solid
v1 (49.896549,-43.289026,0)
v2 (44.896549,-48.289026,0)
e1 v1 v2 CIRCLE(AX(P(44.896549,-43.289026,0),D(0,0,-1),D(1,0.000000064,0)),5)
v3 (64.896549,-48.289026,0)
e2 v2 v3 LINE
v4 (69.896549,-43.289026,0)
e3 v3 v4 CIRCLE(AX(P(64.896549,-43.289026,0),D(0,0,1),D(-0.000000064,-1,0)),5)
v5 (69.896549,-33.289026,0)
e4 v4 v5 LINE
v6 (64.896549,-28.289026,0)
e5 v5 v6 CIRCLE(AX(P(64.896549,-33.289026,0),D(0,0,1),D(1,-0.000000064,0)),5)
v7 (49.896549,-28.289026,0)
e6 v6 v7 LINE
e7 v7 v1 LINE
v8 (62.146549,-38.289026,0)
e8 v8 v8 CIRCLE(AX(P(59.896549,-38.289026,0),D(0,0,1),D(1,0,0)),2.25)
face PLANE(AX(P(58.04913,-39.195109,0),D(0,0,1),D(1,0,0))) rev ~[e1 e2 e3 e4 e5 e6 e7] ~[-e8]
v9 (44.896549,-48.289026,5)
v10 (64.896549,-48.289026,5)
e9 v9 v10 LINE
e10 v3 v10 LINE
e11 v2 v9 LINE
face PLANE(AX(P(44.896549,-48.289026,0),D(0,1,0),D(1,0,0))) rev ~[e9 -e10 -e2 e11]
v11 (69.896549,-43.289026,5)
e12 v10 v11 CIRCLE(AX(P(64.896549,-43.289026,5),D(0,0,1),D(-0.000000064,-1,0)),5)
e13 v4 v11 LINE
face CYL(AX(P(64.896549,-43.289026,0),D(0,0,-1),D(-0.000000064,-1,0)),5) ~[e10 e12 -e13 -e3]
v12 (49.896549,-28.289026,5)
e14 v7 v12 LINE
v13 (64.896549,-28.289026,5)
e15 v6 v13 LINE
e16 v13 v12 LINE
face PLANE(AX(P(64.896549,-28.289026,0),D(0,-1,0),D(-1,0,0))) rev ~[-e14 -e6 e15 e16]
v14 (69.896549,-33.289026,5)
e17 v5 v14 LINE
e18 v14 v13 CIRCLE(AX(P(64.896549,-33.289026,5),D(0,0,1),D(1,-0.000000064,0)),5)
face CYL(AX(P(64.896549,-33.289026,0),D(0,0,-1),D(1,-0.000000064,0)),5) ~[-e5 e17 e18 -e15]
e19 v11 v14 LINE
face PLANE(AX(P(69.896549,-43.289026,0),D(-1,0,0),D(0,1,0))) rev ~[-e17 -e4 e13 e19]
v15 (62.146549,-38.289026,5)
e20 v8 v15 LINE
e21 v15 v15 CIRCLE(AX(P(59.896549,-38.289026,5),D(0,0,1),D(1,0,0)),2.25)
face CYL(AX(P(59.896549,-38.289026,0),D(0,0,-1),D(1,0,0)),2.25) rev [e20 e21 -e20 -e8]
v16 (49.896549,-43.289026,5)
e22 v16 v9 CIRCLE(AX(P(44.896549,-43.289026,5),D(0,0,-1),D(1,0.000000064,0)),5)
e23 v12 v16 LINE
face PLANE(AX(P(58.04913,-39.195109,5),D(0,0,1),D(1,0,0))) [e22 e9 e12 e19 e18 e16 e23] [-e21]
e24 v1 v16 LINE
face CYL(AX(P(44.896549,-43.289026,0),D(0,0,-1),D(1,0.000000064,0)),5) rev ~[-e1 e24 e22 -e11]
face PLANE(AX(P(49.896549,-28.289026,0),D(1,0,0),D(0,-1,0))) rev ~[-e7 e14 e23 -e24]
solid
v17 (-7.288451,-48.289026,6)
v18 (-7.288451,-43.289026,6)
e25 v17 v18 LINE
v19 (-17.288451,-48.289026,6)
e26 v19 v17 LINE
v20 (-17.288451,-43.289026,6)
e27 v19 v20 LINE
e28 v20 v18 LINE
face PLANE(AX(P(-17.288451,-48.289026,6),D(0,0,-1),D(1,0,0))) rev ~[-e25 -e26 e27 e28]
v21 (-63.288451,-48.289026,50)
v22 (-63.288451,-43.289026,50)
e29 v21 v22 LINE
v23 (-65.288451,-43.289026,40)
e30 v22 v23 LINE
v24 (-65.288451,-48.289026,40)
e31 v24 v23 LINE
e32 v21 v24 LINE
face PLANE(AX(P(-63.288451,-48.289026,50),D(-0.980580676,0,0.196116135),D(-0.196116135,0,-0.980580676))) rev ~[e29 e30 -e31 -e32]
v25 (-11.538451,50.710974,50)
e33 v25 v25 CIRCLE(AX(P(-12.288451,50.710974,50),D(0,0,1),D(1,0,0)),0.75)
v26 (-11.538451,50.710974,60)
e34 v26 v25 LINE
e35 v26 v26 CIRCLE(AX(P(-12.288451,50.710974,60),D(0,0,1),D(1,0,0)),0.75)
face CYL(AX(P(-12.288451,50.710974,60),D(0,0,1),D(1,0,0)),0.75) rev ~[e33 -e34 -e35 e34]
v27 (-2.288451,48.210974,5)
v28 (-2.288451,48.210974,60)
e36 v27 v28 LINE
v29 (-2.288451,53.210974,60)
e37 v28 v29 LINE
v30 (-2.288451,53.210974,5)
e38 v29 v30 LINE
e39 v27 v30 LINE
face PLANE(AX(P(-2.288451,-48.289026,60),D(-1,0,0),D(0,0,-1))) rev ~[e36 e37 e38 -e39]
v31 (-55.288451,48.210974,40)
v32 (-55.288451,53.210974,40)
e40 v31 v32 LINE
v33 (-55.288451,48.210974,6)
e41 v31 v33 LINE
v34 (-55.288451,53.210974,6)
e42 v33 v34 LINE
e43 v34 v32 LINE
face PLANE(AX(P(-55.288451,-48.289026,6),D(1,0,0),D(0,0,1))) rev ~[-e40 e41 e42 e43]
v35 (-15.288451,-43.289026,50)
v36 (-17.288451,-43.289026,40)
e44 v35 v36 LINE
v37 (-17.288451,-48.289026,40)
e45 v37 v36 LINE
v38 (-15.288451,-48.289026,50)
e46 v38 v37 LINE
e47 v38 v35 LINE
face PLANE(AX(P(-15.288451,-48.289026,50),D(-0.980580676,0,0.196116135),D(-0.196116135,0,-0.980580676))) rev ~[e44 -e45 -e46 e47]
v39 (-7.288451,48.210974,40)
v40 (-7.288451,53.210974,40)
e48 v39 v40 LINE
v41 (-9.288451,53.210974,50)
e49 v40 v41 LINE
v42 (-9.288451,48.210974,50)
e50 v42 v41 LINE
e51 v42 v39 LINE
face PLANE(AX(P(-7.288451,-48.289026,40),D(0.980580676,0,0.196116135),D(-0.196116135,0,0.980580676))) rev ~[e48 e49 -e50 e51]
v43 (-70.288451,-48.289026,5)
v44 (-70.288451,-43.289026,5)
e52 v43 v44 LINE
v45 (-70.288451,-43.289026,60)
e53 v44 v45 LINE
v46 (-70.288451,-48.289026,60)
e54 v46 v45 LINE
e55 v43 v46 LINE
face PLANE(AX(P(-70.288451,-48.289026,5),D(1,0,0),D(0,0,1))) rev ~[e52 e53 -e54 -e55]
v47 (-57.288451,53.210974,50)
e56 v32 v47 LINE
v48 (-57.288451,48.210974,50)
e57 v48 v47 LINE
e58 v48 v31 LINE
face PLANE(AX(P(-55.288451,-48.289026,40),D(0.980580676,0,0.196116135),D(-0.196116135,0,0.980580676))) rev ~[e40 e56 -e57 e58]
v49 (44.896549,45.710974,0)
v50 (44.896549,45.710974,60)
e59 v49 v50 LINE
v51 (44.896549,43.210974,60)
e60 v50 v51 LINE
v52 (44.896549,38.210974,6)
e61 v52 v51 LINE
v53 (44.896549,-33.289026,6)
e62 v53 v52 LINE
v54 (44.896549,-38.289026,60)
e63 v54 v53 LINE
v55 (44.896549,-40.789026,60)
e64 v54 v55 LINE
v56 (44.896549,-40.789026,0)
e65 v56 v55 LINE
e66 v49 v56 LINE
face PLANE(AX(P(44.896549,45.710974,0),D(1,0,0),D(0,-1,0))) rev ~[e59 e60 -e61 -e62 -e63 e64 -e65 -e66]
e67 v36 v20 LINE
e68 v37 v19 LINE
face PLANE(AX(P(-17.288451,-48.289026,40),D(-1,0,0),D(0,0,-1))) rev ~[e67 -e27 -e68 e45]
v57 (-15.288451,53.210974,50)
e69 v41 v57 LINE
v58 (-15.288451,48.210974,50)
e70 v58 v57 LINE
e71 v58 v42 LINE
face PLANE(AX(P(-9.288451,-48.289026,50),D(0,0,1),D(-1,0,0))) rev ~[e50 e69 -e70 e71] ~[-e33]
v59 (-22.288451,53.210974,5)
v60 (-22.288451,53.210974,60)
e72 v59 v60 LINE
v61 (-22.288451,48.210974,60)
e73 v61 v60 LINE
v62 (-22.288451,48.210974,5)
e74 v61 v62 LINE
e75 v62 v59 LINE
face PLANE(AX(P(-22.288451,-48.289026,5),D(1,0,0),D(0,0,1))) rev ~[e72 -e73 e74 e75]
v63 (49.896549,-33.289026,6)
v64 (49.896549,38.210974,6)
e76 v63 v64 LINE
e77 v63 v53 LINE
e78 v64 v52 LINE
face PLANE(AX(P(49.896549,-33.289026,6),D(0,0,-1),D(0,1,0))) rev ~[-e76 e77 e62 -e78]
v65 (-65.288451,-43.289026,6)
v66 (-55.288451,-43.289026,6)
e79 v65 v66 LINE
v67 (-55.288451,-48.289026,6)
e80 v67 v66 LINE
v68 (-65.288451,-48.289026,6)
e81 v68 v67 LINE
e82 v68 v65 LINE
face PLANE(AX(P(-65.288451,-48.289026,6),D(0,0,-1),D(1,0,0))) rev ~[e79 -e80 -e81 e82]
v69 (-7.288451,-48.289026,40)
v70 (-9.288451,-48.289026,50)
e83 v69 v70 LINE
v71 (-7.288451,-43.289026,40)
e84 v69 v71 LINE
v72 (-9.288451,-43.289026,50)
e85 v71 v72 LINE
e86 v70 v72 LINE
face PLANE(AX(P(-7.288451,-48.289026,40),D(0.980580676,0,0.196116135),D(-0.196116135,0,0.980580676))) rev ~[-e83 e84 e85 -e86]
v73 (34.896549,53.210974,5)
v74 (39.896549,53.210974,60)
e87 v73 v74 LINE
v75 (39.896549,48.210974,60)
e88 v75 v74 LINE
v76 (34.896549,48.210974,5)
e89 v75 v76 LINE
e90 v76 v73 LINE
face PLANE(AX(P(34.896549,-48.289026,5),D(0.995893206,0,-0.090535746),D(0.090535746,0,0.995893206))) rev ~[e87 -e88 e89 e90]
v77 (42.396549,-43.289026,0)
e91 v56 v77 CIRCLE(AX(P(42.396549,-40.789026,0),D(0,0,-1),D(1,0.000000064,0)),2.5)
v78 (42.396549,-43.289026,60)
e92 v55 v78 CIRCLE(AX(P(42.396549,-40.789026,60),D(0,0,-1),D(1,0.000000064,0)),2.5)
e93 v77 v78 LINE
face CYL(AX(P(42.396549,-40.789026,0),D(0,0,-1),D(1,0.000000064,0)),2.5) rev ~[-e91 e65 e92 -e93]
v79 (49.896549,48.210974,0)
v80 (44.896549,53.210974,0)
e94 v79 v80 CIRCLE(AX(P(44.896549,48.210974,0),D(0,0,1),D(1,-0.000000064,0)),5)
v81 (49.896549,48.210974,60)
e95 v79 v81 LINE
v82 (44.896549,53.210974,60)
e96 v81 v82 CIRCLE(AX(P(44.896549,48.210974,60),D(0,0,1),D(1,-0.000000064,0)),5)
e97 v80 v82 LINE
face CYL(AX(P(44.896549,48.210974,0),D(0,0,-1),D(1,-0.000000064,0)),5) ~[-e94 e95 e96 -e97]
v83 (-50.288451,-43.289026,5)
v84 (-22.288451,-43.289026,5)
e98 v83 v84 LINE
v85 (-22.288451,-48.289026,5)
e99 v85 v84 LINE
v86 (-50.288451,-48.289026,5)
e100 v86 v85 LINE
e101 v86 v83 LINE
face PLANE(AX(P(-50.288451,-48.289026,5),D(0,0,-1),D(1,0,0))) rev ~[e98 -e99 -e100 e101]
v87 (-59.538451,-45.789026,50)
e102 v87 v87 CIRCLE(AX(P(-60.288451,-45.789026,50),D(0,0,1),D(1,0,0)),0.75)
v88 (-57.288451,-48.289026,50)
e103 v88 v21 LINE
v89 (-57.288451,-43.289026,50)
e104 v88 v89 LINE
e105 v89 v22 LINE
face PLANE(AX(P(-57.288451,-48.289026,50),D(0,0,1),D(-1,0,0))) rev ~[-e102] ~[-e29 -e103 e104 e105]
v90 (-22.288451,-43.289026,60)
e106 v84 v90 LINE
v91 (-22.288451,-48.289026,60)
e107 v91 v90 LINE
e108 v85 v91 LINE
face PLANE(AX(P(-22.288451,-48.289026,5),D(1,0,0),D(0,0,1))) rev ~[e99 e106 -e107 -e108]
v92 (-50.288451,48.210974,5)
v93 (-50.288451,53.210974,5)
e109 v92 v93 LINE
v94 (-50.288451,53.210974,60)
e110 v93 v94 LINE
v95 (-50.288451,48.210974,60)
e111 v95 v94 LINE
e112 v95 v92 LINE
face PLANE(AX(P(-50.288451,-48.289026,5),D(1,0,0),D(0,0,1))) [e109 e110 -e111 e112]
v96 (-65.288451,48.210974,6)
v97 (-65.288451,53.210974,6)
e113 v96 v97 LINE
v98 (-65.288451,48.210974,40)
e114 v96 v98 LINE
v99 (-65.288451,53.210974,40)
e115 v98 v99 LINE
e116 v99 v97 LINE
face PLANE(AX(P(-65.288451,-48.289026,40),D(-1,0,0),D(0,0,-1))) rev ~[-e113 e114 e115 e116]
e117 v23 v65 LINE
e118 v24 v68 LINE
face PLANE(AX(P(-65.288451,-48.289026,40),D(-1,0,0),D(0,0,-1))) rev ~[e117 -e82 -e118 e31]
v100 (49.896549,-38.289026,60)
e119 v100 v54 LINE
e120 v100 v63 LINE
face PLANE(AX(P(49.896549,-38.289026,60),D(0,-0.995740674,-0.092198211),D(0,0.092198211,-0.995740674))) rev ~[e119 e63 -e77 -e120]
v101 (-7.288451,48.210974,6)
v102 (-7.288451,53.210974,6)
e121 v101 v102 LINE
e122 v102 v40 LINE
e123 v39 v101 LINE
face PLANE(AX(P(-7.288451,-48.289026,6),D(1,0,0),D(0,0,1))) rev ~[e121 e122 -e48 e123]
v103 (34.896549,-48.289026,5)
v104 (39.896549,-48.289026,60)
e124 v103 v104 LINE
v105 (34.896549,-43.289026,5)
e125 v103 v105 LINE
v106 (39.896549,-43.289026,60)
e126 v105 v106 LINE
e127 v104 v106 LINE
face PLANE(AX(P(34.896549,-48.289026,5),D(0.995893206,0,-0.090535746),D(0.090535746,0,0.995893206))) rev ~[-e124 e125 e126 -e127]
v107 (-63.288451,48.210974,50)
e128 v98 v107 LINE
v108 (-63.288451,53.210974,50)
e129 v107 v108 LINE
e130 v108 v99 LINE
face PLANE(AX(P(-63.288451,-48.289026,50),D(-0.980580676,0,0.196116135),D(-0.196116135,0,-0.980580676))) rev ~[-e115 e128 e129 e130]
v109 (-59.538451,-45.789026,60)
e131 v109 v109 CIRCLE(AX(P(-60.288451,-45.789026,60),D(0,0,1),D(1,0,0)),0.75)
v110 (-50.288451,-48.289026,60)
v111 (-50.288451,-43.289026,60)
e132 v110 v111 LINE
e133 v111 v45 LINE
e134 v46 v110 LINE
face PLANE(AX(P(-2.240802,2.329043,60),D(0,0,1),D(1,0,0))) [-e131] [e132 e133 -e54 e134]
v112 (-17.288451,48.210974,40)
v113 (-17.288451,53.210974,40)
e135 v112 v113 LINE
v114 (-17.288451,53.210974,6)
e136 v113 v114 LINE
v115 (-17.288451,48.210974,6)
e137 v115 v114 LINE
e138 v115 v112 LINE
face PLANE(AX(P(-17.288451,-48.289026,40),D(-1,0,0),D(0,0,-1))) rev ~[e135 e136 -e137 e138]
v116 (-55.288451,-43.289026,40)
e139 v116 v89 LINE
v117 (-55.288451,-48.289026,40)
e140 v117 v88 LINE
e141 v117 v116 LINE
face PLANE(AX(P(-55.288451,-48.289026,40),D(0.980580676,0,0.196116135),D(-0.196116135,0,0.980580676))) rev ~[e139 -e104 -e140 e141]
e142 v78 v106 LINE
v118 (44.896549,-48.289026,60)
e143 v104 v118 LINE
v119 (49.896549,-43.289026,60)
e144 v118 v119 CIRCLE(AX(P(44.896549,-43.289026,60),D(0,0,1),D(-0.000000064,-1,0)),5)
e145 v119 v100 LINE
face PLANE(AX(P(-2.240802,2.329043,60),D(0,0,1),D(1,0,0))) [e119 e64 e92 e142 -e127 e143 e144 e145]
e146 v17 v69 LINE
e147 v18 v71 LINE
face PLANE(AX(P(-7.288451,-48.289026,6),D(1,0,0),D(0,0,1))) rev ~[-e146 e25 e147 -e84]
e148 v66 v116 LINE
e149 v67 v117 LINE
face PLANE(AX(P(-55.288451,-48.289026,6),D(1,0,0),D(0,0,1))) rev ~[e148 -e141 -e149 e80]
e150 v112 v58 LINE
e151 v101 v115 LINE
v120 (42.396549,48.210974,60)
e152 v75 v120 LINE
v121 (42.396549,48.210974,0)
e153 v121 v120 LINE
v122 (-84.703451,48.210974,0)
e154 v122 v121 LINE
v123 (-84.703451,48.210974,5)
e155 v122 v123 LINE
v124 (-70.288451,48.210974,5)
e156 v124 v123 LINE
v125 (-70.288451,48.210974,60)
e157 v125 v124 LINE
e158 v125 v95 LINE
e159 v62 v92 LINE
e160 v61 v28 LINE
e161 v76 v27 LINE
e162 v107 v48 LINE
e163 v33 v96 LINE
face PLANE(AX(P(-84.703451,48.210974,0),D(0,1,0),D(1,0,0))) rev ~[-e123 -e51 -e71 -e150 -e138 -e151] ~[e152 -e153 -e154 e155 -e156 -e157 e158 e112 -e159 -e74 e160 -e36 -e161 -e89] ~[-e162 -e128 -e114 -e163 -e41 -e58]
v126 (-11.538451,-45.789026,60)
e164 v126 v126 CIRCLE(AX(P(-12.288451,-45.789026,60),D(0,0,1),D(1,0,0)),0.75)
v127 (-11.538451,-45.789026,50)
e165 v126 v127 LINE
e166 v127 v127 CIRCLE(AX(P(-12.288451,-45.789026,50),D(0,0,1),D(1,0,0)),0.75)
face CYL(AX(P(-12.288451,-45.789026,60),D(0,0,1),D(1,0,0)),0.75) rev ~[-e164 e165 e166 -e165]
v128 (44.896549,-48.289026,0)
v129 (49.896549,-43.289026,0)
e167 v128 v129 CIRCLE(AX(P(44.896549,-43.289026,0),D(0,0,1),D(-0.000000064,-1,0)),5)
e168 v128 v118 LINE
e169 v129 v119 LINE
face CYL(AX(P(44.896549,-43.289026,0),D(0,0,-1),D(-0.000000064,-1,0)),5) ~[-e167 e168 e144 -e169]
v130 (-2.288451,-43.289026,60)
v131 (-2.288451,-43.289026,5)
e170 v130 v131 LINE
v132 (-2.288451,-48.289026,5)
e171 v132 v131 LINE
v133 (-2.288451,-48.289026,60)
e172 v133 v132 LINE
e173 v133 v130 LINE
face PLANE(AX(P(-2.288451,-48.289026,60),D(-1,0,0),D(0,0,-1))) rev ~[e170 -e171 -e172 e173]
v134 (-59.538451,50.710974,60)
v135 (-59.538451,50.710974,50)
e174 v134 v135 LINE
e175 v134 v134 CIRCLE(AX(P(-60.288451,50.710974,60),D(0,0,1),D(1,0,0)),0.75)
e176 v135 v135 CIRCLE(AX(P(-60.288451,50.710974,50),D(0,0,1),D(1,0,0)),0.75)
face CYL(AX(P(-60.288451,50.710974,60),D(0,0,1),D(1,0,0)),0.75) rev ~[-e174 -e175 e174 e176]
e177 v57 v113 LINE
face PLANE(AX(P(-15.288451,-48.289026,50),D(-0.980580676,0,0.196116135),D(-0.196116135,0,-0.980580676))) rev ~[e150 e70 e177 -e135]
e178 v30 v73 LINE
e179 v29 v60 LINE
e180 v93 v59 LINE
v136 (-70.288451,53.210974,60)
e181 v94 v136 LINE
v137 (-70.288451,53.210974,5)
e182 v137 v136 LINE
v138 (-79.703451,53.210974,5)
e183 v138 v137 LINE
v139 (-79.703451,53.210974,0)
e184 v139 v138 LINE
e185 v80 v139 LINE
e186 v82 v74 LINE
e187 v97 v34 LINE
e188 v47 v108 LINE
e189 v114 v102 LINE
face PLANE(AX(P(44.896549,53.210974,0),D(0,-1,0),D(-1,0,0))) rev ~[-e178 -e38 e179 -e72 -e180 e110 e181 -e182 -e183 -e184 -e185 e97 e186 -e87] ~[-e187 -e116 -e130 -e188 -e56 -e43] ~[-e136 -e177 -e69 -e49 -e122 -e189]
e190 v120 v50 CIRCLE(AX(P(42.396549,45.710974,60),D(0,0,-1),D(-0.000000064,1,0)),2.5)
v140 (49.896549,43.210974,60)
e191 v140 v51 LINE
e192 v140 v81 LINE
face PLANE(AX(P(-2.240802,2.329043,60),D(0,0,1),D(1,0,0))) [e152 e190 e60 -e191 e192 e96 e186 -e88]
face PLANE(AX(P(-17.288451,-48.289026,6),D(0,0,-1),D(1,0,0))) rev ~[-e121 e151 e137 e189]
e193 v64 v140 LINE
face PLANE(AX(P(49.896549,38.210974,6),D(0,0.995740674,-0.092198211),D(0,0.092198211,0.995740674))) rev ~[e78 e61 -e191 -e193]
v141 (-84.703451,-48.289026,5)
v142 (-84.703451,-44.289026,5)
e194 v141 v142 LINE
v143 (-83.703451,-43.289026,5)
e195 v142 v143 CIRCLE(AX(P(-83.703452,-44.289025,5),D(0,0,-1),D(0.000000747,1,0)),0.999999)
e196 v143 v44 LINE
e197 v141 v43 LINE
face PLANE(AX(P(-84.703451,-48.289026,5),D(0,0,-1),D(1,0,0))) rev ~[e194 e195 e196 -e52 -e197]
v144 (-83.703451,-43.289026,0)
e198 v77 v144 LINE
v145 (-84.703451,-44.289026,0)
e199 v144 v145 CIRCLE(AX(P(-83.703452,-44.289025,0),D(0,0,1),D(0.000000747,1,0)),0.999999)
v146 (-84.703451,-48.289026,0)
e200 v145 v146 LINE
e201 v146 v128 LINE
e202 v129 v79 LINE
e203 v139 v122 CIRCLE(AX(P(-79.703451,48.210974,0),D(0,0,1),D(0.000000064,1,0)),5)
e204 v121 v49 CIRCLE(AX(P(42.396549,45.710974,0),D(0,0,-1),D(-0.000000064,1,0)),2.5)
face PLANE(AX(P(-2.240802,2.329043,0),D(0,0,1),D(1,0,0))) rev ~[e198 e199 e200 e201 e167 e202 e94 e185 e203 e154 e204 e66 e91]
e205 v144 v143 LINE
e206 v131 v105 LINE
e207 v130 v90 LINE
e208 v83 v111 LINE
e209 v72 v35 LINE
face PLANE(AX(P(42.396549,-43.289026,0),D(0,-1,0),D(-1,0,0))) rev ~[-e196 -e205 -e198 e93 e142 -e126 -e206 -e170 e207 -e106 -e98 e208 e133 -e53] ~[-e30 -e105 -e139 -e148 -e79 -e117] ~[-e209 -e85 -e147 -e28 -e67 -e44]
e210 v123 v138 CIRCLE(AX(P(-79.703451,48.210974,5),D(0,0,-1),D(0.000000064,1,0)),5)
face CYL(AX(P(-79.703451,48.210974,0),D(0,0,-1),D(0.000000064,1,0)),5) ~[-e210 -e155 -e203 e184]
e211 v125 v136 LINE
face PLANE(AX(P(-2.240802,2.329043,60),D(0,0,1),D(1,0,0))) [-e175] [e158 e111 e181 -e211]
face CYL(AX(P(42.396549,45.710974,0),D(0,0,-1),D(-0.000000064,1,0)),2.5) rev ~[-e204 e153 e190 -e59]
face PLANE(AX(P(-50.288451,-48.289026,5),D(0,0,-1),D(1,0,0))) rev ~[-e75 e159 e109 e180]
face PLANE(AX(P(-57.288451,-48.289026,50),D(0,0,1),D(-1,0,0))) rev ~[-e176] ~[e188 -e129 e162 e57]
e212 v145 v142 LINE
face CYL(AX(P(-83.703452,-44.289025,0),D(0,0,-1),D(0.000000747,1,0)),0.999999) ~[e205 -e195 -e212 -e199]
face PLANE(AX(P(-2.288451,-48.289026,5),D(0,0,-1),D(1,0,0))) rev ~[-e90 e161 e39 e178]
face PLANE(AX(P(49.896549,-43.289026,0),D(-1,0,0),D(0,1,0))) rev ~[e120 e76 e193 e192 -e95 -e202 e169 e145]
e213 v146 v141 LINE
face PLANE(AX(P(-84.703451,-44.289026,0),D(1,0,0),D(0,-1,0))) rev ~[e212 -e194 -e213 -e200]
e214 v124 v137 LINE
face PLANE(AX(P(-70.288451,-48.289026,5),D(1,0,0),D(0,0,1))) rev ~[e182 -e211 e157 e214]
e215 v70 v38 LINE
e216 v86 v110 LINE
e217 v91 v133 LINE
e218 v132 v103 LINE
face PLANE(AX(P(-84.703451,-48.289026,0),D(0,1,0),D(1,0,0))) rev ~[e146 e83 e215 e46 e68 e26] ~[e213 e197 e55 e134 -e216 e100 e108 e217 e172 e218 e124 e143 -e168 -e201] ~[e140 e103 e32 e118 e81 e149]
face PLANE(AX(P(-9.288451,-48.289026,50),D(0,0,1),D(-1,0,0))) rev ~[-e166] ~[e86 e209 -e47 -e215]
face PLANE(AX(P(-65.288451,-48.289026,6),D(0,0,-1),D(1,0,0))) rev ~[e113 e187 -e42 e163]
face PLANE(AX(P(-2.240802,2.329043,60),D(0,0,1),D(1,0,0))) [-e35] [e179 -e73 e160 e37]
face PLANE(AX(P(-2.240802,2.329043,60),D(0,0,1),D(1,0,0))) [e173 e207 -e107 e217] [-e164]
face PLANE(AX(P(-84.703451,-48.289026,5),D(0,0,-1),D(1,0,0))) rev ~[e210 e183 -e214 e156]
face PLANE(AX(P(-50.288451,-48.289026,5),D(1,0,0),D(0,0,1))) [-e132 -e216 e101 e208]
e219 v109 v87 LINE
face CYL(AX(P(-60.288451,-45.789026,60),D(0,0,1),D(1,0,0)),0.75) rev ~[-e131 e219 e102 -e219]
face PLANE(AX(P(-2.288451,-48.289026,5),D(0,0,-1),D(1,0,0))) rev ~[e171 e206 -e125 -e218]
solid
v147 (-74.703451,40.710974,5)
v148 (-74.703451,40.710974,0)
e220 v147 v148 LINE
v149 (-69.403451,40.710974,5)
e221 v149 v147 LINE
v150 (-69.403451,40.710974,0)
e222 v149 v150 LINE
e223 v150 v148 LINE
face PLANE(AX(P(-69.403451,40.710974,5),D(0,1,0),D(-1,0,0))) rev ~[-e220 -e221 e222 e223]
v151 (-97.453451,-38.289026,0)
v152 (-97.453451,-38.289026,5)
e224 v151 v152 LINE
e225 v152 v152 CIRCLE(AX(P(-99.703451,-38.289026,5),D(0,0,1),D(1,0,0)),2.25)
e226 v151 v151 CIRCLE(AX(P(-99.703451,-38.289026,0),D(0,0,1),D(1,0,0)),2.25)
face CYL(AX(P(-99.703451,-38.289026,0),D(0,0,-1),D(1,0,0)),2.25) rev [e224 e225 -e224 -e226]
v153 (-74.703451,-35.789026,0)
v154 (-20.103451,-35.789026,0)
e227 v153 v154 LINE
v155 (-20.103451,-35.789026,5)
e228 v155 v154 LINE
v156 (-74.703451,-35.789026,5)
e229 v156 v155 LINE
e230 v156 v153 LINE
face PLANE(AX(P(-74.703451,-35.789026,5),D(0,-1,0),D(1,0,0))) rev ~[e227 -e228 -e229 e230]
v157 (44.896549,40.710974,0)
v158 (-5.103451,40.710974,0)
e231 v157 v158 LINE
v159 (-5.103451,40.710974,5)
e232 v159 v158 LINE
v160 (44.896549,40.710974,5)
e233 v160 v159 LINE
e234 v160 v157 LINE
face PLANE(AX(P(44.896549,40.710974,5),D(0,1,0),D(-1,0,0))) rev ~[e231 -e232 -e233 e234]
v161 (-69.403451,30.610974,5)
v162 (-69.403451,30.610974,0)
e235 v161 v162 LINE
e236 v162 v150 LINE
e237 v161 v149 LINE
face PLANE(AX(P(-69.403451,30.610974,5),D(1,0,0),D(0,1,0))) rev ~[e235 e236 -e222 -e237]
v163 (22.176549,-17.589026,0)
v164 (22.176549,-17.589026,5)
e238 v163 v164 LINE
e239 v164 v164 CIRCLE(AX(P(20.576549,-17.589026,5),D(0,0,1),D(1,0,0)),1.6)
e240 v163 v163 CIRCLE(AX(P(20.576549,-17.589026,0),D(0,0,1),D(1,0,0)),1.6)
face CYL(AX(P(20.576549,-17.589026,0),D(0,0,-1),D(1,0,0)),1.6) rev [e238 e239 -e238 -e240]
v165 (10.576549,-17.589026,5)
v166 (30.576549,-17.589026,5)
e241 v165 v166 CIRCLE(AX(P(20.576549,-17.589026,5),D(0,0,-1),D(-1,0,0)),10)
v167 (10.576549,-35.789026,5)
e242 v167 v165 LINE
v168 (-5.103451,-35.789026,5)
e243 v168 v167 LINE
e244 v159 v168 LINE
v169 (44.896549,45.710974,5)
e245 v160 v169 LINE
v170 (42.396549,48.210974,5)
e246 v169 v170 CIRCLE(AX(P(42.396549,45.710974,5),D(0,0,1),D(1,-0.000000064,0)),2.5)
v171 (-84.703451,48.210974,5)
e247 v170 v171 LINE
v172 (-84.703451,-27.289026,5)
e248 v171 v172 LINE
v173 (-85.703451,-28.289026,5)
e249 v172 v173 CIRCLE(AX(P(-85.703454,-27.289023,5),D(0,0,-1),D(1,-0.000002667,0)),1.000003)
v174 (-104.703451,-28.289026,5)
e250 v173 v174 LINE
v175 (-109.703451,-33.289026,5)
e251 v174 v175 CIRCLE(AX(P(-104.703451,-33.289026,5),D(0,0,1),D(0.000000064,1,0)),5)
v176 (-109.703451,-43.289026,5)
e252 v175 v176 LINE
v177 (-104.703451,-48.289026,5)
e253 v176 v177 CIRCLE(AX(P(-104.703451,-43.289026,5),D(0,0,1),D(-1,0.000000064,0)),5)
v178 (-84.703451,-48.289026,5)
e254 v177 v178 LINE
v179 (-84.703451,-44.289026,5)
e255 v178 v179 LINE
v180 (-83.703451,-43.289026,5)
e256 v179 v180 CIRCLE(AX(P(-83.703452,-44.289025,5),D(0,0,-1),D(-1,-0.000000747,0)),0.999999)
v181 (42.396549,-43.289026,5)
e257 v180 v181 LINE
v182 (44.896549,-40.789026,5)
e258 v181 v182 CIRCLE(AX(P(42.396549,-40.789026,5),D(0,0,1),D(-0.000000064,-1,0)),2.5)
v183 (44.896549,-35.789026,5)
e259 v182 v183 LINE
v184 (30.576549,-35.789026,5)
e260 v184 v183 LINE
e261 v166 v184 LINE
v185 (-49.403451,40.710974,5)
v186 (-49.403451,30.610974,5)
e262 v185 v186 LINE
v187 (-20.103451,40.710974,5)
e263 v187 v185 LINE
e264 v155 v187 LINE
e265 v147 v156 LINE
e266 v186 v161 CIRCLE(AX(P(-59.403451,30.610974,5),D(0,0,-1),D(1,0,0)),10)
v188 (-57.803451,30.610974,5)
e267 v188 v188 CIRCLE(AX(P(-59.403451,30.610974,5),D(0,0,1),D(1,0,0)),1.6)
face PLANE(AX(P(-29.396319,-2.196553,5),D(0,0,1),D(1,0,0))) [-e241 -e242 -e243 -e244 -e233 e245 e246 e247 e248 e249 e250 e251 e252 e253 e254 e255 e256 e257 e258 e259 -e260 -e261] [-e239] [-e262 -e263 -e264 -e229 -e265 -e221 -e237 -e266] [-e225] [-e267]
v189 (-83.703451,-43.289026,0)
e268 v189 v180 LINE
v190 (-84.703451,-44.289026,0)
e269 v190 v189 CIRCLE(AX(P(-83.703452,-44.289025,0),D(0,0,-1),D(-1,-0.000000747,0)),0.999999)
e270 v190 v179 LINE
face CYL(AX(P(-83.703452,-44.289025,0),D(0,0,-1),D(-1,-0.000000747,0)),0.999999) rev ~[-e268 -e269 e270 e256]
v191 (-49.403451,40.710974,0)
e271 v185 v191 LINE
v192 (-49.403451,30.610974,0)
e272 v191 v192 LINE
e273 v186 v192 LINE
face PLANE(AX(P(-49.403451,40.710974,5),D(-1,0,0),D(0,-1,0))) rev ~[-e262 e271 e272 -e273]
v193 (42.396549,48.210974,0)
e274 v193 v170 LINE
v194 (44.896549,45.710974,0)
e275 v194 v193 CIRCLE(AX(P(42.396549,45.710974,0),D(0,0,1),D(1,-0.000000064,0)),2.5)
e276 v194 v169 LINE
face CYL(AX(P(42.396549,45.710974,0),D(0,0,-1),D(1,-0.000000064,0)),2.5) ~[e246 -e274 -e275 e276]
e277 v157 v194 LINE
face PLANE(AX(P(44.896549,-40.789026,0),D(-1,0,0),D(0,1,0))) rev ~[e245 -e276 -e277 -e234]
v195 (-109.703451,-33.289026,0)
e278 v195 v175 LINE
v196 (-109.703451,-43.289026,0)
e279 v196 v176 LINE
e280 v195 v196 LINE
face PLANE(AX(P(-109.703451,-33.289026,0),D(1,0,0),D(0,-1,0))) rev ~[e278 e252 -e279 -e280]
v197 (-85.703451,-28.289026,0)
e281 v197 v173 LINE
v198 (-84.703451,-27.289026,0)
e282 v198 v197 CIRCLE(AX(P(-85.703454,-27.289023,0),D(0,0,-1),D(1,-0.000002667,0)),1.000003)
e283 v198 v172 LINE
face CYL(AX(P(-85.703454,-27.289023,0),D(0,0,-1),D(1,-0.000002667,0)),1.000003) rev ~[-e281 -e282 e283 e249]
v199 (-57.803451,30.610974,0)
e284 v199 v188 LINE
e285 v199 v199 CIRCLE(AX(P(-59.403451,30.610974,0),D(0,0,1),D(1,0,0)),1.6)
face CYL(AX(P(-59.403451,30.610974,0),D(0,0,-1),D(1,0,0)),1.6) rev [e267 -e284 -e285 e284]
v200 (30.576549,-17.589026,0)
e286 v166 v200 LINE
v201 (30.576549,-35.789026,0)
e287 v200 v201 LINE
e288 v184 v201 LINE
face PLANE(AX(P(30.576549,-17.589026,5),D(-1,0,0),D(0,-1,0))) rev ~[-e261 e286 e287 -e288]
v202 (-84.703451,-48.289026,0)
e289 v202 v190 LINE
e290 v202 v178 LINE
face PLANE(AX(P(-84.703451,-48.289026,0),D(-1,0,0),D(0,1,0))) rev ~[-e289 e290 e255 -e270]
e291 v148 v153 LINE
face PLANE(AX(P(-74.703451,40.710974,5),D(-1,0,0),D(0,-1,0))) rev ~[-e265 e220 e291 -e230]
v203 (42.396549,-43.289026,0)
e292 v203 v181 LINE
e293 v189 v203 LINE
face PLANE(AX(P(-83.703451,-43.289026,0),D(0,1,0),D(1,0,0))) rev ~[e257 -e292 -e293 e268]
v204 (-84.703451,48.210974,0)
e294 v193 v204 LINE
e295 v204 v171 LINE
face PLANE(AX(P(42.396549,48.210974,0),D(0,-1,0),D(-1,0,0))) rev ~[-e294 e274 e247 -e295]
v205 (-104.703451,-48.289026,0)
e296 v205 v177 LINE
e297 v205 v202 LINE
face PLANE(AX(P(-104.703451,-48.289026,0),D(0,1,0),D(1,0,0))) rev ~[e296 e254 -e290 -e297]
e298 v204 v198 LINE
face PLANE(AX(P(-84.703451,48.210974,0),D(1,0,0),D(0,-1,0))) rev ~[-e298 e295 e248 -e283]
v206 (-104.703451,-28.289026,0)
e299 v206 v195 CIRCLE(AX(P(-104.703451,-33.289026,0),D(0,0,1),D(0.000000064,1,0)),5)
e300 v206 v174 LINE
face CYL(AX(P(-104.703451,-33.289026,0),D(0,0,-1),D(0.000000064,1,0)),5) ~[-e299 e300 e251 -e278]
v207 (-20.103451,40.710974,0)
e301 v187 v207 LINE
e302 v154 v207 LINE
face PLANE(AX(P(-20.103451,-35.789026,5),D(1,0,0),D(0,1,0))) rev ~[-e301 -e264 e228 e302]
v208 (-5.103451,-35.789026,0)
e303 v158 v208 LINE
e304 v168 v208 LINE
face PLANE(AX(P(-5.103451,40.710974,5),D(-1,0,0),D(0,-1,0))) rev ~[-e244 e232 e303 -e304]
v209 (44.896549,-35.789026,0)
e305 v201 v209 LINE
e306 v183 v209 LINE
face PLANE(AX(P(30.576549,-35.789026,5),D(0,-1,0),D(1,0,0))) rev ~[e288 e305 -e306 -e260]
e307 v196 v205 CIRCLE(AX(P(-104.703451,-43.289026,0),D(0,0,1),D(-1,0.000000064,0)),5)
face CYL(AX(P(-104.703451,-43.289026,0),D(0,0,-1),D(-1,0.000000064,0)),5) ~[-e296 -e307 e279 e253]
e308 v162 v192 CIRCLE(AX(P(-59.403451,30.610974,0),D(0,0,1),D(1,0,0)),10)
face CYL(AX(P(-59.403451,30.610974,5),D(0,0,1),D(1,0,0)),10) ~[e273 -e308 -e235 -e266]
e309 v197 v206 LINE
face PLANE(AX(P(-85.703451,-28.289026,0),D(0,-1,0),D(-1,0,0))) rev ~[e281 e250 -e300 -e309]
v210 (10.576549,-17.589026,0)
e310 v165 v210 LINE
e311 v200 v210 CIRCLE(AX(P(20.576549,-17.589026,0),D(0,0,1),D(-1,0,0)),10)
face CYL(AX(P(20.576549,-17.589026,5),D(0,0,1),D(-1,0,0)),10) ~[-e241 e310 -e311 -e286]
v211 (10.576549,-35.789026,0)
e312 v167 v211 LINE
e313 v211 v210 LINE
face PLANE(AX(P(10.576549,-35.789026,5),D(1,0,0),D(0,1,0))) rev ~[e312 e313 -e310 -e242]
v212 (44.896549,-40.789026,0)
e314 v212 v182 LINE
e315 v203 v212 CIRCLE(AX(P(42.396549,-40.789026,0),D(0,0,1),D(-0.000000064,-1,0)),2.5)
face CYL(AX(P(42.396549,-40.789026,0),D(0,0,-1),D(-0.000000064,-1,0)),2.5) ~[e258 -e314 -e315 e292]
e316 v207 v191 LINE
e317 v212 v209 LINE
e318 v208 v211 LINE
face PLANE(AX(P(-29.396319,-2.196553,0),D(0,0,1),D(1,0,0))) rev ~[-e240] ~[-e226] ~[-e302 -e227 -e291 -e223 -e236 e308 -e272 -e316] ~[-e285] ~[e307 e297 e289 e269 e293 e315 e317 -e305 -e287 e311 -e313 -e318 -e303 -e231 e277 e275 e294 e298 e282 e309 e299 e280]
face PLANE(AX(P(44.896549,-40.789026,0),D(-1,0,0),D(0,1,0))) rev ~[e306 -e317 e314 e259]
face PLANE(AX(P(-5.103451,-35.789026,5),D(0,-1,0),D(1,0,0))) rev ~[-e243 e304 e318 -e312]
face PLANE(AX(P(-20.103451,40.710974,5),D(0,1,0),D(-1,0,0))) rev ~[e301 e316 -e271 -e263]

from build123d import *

# Parameters (mm, degrees)
F0_R      = 2.25
F0_R_2    = 1.6
F1_DEPTH  = 5
F2_DEPTH  = 60
F3_R      = 0.75
F4_DEPTH  = 20
F6_DEPTH  = 25
F9_W      = 28
F9_H      = 55
F10_DEPTH = 200
F12_DEPTH = 200
F13_DEPTH = 200
F15_DEPTH = 100
F9_W_2    = 14.415
F16_DEPTH = 222


with BuildPart() as f1:
    # F0 (on Top) → F1 (new body)
    with BuildSketch(Plane.XY):
        with BuildLine():
            Line((42.396549, 48.210974), (-84.703451, 48.210974))
            Line((-84.703451, 48.210974), (-84.703451, -27.289026))
            ThreePointArc((-84.703451, -27.289026), (-84.996345, -27.996132), (-85.703451, -28.289026))
            Line((-85.703451, -28.289026), (-104.703451, -28.289026))
            ThreePointArc((-104.703451, -28.289026), (-108.238985, -29.753492), (-109.703451, -33.289026))
            Line((-109.703451, -33.289026), (-109.703451, -43.289026))
            ThreePointArc((-109.703451, -43.289026), (-108.238985, -46.82456), (-104.703451, -48.289026))
            Line((-104.703451, -48.289026), (-84.703451, -48.289026))
            Line((-84.703451, -48.289026), (-84.703451, -44.289026))
            ThreePointArc((-84.703451, -44.289026), (-84.410558, -43.581919), (-83.703451, -43.289026))
            Line((-83.703451, -43.289026), (42.396549, -43.289026))
            ThreePointArc((42.396549, -43.289026), (44.164316, -42.556793), (44.896549, -40.789026))
            Line((44.896549, -40.789026), (44.896549, 45.710974))
            ThreePointArc((44.896549, 45.710974), (44.164316, 47.478741), (42.396549, 48.210974))
        make_face()
        with Locations((-99.703451, -38.289026)):
            Circle(F0_R, mode=Mode.SUBTRACT)
        with Locations((20.576549, -17.589026)):
            Circle(F0_R_2, mode=Mode.SUBTRACT)
        with Locations((-59.403451, 30.610974)):
            Circle(F0_R_2, mode=Mode.SUBTRACT)
        with BuildLine():
            Line((64.896549, -28.289026), (49.896549, -28.289026))
            Line((49.896549, -28.289026), (49.896549, -43.289026))
            ThreePointArc((49.896549, -43.289026), (48.432083, -46.82456), (44.896549, -48.289026))
            Line((44.896549, -48.289026), (64.896549, -48.289026))
            ThreePointArc((64.896549, -48.289026), (68.432083, -46.82456), (69.896549, -43.289026))
            Line((69.896549, -43.289026), (69.896549, -33.289026))
            ThreePointArc((69.896549, -33.289026), (68.432083, -29.753492), (64.896549, -28.289026))
        make_face()
        with Locations((59.896549, -38.289026)):
            Circle(F0_R, mode=Mode.SUBTRACT)
    extrude(amount=F1_DEPTH)

    # F14 (on face) → F15 (cut)
    with BuildSketch(Plane.XY.offset(5)):
        with BuildLine():
            ThreePointArc((-49.403451, 30.610974), (-59.403451, 20.610974), (-69.403451, 30.610974))
            Line((-69.403451, 30.610974), (-69.403451, 40.710974))
            Line((-69.403451, 40.710974), (-74.703451, 40.710974))
            Line((-74.703451, 40.710974), (-74.703451, -35.789026))
            Line((-74.703451, -35.789026), (-20.103451, -35.789026))
            Line((-20.103451, -35.789026), (-20.103451, 40.710974))
            Line((-20.103451, 40.710974), (-49.403451, 40.710974))
            Line((-49.403451, 40.710974), (-49.403451, 30.610974))
        make_face()
        with BuildLine():
            Line((44.896549, 40.710974), (-5.103451, 40.710974))
            Line((-5.103451, 40.710974), (-5.103451, -35.789026))
            Line((-5.103451, -35.789026), (10.576549, -35.789026))
            Line((10.576549, -35.789026), (10.576549, -17.589026))
            ThreePointArc((10.576549, -17.589026), (20.576549, -7.589026), (30.576549, -17.589026))
            Line((30.576549, -17.589026), (30.576549, -35.789026))
            Line((30.576549, -35.789026), (44.896549, -35.789026))
            Line((44.896549, -35.789026), (44.896549, 40.710974))
        make_face()
    extrude(amount=-F15_DEPTH, mode=Mode.SUBTRACT)


with BuildPart() as f2:
    # F0 (on Top) → F2 (new body)
    with BuildSketch(Plane.XY):
        with BuildLine():
            Line((44.896549, 53.210974), (-79.703451, 53.210974))
            ThreePointArc((-79.703451, 53.210974), (-83.238985, 51.746508), (-84.703451, 48.210974))
            Line((-84.703451, 48.210974), (42.396549, 48.210974))
            ThreePointArc((42.396549, 48.210974), (44.164316, 47.478741), (44.896549, 45.710974))
            Line((44.896549, 45.710974), (44.896549, -40.789026))
            ThreePointArc((44.896549, -40.789026), (44.164316, -42.556793), (42.396549, -43.289026))
            Line((42.396549, -43.289026), (-83.703451, -43.289026))
            ThreePointArc((-83.703451, -43.289026), (-84.410558, -43.581919), (-84.703451, -44.289026))
            Line((-84.703451, -44.289026), (-84.703451, -48.289026))
            Line((-84.703451, -48.289026), (44.896549, -48.289026))
            ThreePointArc((44.896549, -48.289026), (48.432083, -46.82456), (49.896549, -43.289026))
            Line((49.896549, -43.289026), (49.896549, -28.289026))
            Line((49.896549, -28.289026), (49.896549, 48.210974))
            ThreePointArc((49.896549, 48.210974), (48.432083, 51.746508), (44.896549, 53.210974))
        make_face()
    extrude(amount=F2_DEPTH)

    # F3 (on face) → F4 (cut)
    with BuildSketch(Plane.XY.offset(60)):
        with Locations((-12.288451, 50.710974)):
            Circle(F3_R)
        with Locations((-60.288451, 50.710974)):
            Circle(F3_R)
        with Locations((-60.288451, -45.789026)):
            Circle(F3_R)
        with Locations((-12.288451, -45.789026)):
            Circle(F3_R)
    extrude(amount=-F4_DEPTH, mode=Mode.SUBTRACT)

    # F5 (on face) → F6 (cut)
    with BuildSketch(Plane.YZ.offset(49.896549)):
        Polygon((43.210974, 60), (-38.289026, 60), (-33.289026, 6), (38.210974, 6), align=None)
    extrude(amount=-F6_DEPTH, mode=Mode.SUBTRACT)

    # F9 (on face) → F10 (cut)
    with BuildSketch(Plane.XZ.offset(48.289026)):
        with Locations((-36.288451, 32.5)):
            Rectangle(F9_W, F9_H)
        Polygon((-2.288451, 5), (34.896549, 5), (39.896549, 60), (-2.288451, 60), align=None)
    extrude(amount=-F10_DEPTH, mode=Mode.SUBTRACT)

    # F11 (on face) → F12 (cut)
    with BuildSketch(Plane.XZ.offset(48.289026)):
        Polygon((-84.703451, 60), (-84.703451, 5), (-70.288451, 60), align=None)
    extrude(amount=-F12_DEPTH, mode=Mode.SUBTRACT)

    # F9 (on face) → F13 (cut)
    with BuildSketch(Plane.XZ.offset(48.289026)):
        Polygon((-57.288451, 50), (-63.288451, 50), (-65.288451, 40), (-65.288451, 6), (-55.288451, 6), (-55.288451, 40), align=None)
        Polygon((-17.288451, 40), (-17.288451, 6), (-7.288451, 6), (-7.288451, 40), (-9.288451, 50), (-15.288451, 50), align=None)
    extrude(amount=-F13_DEPTH, mode=Mode.SUBTRACT)

    # F9 (on face) → F16 (cut)
    with BuildSketch(Plane.XZ.offset(48.289026)):
        with Locations((-77.495951, 32.5)):
            Rectangle(F9_W_2, F9_H)
    extrude(amount=-F16_DEPTH, mode=Mode.SUBTRACT)


solid = Compound([f1.part, f2.part])
